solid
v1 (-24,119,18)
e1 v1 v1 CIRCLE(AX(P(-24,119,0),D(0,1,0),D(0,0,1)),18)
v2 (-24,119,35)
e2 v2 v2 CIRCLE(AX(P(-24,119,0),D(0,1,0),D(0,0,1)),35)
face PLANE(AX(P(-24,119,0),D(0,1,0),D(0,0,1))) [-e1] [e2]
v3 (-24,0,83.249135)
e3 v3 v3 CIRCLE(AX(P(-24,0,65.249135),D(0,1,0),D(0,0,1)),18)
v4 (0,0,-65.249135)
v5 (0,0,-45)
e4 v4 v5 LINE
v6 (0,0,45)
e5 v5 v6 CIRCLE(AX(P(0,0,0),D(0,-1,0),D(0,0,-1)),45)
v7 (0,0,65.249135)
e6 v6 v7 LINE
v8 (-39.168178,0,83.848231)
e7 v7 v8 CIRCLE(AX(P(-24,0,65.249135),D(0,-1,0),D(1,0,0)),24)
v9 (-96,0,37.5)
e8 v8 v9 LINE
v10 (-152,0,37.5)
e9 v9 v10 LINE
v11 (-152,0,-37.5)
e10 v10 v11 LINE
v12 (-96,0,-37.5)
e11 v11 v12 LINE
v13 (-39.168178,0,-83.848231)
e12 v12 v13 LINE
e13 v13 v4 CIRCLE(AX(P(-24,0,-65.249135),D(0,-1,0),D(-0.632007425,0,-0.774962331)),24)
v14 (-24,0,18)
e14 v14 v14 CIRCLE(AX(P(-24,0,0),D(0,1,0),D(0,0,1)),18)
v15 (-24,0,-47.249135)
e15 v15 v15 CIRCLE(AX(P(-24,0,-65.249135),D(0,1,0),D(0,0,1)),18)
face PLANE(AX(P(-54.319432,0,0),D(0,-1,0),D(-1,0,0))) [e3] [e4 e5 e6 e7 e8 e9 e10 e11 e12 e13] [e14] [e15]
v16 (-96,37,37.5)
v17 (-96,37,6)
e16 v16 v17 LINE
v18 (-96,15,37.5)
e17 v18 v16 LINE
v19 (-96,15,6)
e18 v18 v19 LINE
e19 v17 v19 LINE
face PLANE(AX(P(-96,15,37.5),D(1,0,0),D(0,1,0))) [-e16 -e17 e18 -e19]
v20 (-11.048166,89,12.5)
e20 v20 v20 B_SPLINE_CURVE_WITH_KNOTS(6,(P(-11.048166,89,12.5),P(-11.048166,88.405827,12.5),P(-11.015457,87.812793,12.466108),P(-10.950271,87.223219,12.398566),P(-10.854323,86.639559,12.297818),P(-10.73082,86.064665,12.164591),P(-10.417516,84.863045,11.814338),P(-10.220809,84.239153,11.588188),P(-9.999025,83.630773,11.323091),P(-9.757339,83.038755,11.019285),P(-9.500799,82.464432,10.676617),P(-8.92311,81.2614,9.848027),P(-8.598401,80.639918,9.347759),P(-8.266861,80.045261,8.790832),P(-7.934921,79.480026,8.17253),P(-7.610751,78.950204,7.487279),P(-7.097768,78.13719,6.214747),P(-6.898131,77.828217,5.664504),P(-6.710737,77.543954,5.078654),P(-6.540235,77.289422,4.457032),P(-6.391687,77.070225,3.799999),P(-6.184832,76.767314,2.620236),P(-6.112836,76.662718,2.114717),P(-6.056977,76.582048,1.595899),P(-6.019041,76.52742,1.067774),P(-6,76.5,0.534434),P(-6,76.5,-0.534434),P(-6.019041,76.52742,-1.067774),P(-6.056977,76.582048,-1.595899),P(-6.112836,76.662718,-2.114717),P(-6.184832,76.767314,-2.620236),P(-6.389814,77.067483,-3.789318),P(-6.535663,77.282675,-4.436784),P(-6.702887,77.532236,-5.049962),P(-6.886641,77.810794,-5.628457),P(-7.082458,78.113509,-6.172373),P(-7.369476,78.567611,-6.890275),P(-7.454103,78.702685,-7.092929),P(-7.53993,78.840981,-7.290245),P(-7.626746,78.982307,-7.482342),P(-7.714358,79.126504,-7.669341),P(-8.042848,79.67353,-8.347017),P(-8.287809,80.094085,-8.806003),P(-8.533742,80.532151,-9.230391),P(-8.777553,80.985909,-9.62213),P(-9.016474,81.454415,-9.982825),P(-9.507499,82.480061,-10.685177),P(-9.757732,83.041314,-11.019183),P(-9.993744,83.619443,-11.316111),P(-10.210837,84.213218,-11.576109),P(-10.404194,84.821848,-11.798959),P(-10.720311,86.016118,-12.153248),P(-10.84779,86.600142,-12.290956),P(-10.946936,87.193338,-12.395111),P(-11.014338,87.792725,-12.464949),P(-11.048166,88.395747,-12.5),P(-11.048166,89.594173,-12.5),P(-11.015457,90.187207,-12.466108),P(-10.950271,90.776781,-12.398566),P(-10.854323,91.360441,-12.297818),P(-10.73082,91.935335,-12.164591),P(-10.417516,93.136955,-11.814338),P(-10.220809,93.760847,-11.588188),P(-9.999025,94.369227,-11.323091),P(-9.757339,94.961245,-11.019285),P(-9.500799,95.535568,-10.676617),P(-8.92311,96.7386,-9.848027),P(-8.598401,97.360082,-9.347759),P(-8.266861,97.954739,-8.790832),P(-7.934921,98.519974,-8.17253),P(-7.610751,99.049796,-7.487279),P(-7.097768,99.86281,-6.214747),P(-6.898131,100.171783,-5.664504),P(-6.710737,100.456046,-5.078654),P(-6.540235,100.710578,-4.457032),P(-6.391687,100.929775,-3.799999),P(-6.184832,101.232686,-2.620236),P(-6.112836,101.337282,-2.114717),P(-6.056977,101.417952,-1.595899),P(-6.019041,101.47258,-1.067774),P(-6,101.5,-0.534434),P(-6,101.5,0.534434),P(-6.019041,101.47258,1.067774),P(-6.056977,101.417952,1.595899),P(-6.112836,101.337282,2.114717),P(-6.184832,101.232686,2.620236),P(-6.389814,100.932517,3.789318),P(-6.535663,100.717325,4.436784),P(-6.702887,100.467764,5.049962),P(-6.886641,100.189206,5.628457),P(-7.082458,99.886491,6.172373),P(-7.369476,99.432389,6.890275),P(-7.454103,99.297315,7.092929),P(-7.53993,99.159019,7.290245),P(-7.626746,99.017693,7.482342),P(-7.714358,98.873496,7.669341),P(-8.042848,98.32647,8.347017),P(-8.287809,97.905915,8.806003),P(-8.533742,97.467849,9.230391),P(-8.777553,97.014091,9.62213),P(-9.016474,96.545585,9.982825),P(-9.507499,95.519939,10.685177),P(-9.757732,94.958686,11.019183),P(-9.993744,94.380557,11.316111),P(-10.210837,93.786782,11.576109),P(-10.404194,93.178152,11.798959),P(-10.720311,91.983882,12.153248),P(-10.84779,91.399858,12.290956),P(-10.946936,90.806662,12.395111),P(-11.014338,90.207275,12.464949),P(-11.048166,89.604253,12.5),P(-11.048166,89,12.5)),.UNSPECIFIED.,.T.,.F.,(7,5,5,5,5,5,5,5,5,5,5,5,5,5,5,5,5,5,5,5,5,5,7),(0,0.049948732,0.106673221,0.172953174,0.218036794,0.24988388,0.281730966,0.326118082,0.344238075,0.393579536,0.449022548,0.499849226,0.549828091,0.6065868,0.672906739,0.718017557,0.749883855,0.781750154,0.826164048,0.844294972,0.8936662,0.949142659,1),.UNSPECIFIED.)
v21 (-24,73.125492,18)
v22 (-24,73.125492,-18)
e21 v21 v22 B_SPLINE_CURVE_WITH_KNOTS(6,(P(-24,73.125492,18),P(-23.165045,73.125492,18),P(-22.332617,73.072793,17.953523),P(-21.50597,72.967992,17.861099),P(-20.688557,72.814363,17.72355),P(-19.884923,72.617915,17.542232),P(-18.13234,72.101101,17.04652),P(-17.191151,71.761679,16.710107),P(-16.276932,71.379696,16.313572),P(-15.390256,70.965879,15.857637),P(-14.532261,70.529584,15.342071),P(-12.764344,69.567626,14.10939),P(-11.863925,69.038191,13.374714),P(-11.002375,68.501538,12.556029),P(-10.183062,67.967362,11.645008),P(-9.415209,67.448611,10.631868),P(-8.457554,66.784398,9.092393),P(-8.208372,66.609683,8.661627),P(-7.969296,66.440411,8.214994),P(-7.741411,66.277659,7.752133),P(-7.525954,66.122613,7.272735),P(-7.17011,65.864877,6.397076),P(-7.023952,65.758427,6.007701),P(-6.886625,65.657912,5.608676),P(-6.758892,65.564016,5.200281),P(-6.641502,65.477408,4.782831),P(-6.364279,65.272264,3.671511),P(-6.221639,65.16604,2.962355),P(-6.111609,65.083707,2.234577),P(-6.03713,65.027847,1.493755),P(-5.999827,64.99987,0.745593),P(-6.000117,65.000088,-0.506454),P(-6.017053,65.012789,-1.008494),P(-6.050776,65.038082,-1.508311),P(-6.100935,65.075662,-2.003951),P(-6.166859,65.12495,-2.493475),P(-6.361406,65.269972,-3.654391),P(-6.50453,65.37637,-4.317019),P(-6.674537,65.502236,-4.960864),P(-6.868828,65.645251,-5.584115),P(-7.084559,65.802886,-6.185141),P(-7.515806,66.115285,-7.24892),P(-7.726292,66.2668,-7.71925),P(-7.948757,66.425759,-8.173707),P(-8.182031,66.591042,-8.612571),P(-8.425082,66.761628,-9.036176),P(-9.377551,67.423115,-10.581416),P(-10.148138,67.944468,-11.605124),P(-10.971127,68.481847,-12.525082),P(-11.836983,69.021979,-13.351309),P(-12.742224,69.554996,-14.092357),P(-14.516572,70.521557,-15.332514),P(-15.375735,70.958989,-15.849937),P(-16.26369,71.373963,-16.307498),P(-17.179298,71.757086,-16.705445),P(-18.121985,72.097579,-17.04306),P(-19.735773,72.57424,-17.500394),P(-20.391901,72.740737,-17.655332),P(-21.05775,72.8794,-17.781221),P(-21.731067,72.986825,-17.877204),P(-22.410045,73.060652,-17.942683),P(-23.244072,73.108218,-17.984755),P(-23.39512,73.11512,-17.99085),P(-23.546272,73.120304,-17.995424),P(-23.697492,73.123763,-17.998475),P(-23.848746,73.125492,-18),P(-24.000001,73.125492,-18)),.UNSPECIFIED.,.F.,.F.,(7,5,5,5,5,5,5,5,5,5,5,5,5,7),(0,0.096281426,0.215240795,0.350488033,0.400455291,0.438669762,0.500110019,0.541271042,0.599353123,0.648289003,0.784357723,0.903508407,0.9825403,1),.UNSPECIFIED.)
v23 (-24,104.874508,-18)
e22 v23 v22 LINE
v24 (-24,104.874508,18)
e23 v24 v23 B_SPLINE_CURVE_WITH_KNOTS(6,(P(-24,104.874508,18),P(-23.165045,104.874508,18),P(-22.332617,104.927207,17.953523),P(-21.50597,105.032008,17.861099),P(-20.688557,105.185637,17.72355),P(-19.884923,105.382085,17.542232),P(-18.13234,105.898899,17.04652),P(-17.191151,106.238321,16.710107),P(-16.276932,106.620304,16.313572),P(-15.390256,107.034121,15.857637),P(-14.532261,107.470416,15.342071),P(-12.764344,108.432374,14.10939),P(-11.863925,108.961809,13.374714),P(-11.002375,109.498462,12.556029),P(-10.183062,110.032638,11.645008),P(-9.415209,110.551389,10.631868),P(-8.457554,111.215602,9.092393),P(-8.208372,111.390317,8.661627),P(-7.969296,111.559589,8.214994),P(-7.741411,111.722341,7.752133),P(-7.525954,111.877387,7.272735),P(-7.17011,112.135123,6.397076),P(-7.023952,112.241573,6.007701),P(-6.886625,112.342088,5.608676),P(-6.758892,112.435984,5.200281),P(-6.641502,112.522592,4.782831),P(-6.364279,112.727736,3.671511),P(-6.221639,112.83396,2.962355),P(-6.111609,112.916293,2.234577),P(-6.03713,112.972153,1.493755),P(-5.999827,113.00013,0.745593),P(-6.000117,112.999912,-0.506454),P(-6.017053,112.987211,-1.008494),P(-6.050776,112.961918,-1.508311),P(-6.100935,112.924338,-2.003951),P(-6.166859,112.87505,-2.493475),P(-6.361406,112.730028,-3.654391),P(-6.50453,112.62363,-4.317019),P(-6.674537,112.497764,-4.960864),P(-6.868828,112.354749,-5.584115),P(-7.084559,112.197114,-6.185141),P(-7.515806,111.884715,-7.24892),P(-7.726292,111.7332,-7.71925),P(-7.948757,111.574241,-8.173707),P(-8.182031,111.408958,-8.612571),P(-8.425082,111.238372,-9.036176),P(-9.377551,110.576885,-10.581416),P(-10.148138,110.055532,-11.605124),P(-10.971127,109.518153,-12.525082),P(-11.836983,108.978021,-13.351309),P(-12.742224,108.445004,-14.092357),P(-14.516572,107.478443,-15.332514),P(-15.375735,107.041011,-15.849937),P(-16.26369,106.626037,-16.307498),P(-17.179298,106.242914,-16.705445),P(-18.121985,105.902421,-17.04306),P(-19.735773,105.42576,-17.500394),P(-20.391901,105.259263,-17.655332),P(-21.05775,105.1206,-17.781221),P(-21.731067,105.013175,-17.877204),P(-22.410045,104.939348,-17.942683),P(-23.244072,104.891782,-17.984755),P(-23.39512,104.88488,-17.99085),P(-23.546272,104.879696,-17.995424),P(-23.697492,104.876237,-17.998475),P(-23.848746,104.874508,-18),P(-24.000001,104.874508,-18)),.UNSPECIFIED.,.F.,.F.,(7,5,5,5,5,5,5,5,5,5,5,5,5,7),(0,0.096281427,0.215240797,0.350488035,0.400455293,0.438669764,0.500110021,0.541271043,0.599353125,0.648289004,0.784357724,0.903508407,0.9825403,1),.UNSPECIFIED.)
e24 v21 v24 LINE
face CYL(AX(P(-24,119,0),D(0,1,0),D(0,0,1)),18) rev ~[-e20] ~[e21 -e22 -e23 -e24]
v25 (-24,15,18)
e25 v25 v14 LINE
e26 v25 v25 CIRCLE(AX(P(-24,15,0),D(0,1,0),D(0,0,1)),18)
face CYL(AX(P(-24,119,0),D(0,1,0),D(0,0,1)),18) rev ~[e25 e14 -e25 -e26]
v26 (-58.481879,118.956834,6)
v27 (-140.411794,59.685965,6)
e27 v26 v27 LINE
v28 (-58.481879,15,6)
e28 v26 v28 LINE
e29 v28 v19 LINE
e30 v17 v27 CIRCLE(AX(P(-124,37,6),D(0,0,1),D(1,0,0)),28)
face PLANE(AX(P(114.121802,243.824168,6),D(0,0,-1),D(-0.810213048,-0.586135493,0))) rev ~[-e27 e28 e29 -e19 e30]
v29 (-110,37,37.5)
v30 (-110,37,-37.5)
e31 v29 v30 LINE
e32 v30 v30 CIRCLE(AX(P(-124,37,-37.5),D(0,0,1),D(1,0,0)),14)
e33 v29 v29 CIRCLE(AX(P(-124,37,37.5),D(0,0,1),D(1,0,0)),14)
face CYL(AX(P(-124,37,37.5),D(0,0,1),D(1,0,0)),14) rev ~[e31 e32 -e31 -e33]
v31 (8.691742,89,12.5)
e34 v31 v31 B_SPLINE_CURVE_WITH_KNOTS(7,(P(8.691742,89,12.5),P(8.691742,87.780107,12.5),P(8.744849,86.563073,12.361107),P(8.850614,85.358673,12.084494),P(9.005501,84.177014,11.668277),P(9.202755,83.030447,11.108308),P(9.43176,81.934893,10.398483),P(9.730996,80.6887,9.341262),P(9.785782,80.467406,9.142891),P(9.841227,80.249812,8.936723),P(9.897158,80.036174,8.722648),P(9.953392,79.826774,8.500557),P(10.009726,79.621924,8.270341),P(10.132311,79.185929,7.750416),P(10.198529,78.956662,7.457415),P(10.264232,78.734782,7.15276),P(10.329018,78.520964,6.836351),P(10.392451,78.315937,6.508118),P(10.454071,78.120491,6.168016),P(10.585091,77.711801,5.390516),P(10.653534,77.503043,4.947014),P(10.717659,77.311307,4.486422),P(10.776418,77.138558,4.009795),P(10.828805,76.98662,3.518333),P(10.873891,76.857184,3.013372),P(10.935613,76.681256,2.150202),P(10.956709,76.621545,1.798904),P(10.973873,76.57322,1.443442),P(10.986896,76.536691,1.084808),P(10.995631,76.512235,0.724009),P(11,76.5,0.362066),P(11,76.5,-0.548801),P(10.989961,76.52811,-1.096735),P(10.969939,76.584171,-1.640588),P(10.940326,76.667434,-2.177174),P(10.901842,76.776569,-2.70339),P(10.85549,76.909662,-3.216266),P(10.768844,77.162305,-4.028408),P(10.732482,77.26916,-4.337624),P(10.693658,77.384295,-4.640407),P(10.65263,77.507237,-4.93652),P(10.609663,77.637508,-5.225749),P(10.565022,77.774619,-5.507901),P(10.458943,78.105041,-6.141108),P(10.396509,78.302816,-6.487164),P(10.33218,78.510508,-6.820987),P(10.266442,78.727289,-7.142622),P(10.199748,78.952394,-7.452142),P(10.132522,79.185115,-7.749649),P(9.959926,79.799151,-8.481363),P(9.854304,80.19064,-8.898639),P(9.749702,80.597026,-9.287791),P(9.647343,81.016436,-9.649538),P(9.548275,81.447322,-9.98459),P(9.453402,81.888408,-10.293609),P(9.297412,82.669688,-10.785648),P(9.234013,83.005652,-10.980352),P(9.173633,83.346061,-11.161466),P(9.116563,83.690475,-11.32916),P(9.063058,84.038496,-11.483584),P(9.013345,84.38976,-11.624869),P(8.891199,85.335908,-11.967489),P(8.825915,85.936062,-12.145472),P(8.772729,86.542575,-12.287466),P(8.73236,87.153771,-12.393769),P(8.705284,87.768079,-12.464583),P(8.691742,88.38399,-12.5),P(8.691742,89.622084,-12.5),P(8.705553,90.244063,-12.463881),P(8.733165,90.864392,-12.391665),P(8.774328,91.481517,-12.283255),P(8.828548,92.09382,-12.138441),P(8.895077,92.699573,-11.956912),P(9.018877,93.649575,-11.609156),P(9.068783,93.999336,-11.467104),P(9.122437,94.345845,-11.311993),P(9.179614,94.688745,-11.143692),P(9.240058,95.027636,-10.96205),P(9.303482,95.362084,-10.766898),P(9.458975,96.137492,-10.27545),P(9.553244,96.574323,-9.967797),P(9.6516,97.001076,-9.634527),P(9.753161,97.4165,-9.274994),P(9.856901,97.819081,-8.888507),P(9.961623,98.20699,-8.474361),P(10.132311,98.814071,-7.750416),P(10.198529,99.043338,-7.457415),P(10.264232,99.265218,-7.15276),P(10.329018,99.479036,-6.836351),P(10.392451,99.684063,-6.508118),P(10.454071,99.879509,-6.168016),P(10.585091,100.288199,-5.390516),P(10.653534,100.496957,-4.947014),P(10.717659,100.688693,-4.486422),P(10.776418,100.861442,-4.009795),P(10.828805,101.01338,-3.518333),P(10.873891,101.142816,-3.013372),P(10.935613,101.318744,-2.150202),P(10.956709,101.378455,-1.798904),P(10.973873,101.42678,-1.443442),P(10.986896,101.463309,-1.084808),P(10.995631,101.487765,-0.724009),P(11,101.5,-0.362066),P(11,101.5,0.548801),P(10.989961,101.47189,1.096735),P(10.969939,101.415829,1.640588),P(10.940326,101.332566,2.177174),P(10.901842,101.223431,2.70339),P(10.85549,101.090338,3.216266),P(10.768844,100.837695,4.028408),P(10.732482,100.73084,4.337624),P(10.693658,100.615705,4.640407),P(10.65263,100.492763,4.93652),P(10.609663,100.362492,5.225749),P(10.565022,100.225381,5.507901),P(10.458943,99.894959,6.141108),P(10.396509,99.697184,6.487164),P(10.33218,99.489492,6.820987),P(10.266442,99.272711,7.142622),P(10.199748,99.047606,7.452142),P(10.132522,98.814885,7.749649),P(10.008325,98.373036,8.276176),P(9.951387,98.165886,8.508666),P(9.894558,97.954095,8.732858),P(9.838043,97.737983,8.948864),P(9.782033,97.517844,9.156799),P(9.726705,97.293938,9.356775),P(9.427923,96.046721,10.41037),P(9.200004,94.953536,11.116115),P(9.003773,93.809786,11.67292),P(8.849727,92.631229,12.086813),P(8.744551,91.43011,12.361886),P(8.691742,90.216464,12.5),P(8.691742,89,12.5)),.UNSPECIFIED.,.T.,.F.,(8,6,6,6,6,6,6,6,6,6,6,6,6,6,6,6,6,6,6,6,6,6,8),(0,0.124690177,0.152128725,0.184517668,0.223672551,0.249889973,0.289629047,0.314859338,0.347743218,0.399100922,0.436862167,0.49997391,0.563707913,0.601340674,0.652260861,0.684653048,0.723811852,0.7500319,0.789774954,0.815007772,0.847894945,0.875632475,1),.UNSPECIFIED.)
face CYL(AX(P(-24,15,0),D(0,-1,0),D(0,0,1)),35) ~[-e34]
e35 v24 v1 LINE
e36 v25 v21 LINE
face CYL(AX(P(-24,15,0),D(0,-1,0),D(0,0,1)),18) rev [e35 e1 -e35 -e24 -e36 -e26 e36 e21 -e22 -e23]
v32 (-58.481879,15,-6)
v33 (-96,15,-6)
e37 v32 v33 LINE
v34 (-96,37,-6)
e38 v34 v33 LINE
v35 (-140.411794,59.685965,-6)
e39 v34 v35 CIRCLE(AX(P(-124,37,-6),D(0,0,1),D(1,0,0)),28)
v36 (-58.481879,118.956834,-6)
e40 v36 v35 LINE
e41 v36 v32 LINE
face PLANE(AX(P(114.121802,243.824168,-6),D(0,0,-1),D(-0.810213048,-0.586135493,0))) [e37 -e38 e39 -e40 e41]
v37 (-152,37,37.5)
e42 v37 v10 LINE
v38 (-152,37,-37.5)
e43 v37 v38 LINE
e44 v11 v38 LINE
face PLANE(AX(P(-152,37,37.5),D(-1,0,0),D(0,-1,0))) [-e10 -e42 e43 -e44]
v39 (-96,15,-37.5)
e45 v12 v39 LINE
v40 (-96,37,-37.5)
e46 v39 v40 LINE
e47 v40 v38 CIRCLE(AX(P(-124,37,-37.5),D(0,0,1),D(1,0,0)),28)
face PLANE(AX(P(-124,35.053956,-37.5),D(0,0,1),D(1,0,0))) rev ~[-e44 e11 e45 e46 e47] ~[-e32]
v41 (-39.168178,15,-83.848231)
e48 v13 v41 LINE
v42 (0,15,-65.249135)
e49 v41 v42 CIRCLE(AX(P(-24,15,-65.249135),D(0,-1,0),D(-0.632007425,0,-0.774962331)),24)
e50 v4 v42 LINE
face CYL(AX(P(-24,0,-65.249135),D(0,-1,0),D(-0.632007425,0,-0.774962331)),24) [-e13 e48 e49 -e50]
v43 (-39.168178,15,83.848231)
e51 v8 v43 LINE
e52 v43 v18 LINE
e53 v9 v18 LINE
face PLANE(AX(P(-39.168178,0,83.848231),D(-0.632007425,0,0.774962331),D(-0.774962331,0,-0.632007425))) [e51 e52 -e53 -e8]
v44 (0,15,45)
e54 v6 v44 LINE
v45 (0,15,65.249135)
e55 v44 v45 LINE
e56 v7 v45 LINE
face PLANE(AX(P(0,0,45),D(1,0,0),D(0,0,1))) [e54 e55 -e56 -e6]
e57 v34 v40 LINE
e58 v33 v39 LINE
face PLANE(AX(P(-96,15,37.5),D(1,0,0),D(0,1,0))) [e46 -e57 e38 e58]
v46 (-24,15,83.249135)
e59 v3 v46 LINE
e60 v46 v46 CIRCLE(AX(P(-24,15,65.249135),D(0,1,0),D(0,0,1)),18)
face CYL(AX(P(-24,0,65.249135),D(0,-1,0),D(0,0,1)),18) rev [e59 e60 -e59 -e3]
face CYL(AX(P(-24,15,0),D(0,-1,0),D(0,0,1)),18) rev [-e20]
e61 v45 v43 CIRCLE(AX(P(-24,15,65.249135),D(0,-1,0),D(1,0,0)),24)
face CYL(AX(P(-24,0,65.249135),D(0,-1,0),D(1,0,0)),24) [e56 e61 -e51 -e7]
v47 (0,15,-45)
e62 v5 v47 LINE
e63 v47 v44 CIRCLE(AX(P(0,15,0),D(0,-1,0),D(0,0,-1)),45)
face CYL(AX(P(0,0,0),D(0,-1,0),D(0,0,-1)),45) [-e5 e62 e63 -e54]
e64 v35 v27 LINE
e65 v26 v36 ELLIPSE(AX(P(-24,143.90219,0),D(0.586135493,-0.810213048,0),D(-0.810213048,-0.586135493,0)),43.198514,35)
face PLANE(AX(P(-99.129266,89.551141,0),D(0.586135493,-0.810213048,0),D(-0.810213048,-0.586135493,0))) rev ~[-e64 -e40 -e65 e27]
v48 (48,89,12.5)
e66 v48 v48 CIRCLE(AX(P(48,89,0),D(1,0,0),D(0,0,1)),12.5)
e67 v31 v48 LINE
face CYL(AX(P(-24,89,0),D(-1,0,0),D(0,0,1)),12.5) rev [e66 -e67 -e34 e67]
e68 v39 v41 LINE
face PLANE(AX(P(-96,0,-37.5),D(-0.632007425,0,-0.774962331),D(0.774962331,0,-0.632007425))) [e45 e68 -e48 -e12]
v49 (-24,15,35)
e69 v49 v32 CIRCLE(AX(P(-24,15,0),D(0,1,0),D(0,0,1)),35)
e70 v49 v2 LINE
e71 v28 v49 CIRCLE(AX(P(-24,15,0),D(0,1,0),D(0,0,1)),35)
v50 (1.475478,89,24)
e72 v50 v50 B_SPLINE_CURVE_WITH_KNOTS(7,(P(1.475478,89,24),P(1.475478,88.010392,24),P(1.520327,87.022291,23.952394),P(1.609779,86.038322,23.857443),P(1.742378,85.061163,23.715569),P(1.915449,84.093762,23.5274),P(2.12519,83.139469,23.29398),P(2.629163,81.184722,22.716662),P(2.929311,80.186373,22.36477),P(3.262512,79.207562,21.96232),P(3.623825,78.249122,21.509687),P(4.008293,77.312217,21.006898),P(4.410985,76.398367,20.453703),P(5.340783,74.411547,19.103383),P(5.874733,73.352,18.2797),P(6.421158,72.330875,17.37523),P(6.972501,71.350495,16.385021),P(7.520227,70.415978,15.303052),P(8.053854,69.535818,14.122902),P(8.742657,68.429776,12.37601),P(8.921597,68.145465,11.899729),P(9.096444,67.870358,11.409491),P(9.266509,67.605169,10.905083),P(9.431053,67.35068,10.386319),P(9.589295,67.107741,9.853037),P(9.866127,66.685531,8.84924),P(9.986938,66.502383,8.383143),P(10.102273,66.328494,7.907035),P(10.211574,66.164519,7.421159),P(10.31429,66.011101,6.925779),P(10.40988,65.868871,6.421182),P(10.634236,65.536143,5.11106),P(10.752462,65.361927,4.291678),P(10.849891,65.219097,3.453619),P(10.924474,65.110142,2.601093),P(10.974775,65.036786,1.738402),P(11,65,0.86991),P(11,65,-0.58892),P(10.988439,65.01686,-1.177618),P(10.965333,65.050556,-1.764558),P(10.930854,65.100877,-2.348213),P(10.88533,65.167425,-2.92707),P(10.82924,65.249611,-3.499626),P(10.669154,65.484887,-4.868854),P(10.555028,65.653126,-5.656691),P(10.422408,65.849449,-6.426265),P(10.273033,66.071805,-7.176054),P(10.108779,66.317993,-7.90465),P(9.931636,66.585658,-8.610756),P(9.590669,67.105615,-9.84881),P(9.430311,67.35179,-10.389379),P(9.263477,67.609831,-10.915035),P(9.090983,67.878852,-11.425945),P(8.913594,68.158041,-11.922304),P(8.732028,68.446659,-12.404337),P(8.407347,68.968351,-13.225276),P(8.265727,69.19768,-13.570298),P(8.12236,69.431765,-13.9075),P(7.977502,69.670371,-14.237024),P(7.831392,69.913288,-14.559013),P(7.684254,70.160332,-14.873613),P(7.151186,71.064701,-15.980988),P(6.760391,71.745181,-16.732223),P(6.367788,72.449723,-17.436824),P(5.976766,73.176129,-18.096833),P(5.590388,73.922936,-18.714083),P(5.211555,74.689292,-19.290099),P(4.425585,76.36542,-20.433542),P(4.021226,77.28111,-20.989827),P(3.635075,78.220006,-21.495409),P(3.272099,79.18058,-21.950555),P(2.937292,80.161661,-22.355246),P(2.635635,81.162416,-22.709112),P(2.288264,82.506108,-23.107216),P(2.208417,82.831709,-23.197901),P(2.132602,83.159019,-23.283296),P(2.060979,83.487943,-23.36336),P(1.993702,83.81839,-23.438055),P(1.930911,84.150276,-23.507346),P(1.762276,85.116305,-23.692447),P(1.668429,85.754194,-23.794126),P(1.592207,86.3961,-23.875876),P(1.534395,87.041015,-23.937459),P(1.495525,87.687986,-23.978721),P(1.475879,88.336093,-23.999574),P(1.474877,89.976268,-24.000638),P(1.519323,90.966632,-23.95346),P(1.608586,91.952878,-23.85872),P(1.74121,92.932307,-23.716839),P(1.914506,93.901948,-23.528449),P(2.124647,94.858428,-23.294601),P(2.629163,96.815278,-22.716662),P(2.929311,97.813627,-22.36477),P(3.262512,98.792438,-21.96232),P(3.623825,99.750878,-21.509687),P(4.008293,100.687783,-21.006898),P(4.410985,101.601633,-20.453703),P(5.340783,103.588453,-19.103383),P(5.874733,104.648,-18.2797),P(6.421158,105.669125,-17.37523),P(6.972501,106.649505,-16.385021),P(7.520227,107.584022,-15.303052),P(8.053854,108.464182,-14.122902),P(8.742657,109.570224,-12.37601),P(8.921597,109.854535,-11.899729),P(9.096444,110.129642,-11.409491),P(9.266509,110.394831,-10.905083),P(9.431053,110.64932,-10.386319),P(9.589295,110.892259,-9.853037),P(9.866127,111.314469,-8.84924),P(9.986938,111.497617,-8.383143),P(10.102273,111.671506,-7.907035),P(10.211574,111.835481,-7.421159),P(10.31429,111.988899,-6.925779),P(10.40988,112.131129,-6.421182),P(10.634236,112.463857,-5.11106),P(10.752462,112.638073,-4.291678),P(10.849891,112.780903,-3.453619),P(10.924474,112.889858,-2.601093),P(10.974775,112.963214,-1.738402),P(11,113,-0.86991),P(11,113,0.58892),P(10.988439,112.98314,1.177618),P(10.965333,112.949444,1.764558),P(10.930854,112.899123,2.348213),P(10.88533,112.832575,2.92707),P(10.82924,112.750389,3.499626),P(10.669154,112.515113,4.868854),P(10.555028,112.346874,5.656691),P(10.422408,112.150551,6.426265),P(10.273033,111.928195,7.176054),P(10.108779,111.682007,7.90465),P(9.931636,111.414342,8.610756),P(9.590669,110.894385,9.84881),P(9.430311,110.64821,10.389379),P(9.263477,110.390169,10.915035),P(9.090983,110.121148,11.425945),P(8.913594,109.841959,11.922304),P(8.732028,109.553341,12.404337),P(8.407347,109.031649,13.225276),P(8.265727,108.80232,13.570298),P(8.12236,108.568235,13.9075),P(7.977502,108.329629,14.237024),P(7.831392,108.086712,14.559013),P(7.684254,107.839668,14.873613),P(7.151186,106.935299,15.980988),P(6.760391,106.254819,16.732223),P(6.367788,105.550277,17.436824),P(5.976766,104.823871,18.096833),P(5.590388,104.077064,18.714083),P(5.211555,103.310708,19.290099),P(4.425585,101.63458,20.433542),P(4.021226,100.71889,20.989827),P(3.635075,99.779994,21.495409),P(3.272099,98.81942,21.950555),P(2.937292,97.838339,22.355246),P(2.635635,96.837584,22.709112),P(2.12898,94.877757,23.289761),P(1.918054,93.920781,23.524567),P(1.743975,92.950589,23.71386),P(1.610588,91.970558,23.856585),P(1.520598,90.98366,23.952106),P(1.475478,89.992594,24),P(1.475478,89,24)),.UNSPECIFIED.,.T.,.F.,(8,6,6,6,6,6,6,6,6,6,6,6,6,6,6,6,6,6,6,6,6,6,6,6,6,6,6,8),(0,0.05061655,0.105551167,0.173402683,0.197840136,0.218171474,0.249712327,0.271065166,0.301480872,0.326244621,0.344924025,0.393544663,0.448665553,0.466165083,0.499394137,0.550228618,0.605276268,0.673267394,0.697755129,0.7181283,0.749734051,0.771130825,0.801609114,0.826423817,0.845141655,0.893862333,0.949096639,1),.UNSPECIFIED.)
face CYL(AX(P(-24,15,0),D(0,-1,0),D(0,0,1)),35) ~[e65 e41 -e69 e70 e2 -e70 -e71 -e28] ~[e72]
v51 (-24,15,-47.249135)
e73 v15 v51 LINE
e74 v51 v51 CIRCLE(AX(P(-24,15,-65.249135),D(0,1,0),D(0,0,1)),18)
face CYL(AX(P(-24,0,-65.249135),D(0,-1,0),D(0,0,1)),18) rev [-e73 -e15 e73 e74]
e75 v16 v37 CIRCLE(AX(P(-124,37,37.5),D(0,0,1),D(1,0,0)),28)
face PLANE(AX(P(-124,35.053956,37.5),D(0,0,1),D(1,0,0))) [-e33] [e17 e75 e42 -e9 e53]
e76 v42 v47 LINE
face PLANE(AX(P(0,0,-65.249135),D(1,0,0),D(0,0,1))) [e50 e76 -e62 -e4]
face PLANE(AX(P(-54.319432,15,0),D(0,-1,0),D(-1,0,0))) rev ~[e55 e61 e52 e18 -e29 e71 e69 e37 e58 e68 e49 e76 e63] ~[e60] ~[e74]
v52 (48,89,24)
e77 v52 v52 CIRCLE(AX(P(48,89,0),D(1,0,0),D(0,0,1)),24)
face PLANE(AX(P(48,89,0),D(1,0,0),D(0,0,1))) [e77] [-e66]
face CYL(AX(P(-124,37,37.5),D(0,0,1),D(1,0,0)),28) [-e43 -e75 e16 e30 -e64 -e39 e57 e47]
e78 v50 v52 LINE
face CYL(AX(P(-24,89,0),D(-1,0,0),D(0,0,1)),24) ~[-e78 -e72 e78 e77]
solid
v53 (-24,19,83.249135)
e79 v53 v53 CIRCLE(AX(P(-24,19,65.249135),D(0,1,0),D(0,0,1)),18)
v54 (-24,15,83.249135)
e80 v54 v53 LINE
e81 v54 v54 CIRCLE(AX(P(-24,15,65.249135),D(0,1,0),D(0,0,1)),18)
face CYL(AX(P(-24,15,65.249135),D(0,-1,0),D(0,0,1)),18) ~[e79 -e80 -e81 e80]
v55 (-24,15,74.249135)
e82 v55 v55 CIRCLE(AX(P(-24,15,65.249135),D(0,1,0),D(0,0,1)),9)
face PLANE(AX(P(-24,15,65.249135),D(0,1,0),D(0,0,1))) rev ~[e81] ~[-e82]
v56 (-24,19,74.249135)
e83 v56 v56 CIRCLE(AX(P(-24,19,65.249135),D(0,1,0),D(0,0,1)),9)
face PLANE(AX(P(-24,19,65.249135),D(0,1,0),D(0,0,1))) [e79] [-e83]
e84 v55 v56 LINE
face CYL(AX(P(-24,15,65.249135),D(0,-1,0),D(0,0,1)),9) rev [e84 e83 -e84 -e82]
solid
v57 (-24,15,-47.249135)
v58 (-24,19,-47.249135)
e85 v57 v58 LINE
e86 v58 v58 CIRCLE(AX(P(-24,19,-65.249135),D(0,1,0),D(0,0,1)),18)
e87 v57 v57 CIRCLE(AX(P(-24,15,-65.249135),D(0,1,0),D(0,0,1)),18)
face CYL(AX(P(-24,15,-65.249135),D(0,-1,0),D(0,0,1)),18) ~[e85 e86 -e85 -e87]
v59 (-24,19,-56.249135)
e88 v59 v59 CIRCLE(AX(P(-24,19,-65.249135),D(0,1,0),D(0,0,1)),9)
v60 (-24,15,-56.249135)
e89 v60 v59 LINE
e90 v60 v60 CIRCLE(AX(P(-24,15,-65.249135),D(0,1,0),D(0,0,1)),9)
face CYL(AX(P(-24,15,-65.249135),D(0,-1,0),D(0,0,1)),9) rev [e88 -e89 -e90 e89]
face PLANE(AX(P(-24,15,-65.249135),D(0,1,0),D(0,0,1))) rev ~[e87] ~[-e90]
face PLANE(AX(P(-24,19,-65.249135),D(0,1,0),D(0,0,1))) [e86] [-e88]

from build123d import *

# Parameters (mm, degrees)
SKETCH1_R             = 18
BOSS_EXTRUDE1_DEPTH   = 15
SKETCH2_R             = 18
SKETCH2_R_2           = 9
BOSS_EXTRUDE2_DEPTH   = 4
BOSS_EXTRUDE2_2_DEPTH = 4
SKETCH3_R             = 35
SKETCH3_R_2           = 18
BOSS_EXTRUDE3_DEPTH   = 104
SKETCH4_R             = 14
BOSS_EXTRUDE4_DEPTH   = 75
SKETCH6_R             = 24
SKETCH6_R_2           = 12.5
BOSS_EXTRUDE5_DEPTH   = 72
SKETCH9_R             = 18
CUT_EXTRUDE2_DEPTH    = 213.674418186
RIB1_REACH            = 214.674
SKETCH17_WALL_W       = 526.407388692
SKETCH17_WALL_H       = 12


with BuildPart() as part:
    # Sketch1 → Boss-Extrude1 (new body)
    with BuildSketch(Plane(origin=(0, 0, 0), x_dir=(1, 0, 0), z_dir=(0, 1, 0))):
        with BuildLine():
            Line((0, -45), (0, -65.249135293))
            ThreePointArc((0, -65.249135293), (-13.705250772, -86.929037007), (-39.168178194, -83.848231247))
            Line((-39.168178194, -83.848231247), (-96, -37.5))
            Line((-96, -37.5), (-152, -37.5))
            Line((-152, -37.5), (-152, 37.5))
            Line((-152, 37.5), (-96, 37.5))
            Line((-96, 37.5), (-39.168178194, 83.848231247))
            ThreePointArc((-39.168178194, 83.848231247), (-13.705250772, 86.929037007), (0, 65.249135293))
            Line((0, 65.249135293), (0, 45))
            ThreePointArc((0, 45), (45, 0), (0, -45))
        make_face()
        with Locations(Location((-24, 65.249135293, 0), (0, 0, 270))):
            Circle(SKETCH1_R, mode=Mode.SUBTRACT)
        with Locations(Location((-24, -65.249135293, 0), (0, 0, 270))):
            Circle(SKETCH1_R, mode=Mode.SUBTRACT)
    extrude(amount=BOSS_EXTRUDE1_DEPTH)

    # Sketch3 → Boss-Extrude3 (add)
    with BuildSketch(Plane(origin=(0, 15, 0), x_dir=(1, 0, 0), z_dir=(0, 1, 0))):
        with Locations(Location((-24, 0, 0), (0, 0, 270))):
            Circle(SKETCH3_R)
        with Locations(Location((-24, 0, 0), (0, 0, 270))):
            Circle(SKETCH3_R_2, mode=Mode.SUBTRACT)
    extrude(amount=BOSS_EXTRUDE3_DEPTH)

    # Sketch4 → Boss-Extrude4 (add)
    with BuildSketch(Plane.XY.offset(37.5)):
        with BuildLine():
            Line((-96, 15), (-96, 37))
            ThreePointArc((-96, 37), (-124, 65), (-152, 37))
            Line((-152, 37), (-152, 15))
            Line((-152, 15), (-96, 15))
        make_face()
        with Locations((-124, 37)):
            Circle(SKETCH4_R, mode=Mode.SUBTRACT)
    extrude(amount=-BOSS_EXTRUDE4_DEPTH)

    # Sketch6 → Boss-Extrude5 (add)
    with BuildSketch(Plane(origin=(-24, 0, 0), x_dir=(0, 0, -1), z_dir=(1, 0, 0))):
        with Locations(Location((0, 89, 0), (0, 0, 180))):
            Circle(SKETCH6_R)
        with Locations(Location((0, 89, 0), (0, 0, 180))):
            Circle(SKETCH6_R_2, mode=Mode.SUBTRACT)
    extrude(amount=BOSS_EXTRUDE5_DEPTH)

    # Sketch9 → Cut-Extrude2 (cut, through all)
    with BuildSketch(Plane(origin=(0, 119, 0), x_dir=(1, 0, 0), z_dir=(0, 1, 0))):
        with Locations(Location((-24, 0, 0), (0, 0, 270))):
            Circle(SKETCH9_R)
    extrude(amount=-CUT_EXTRUDE2_DEPTH, mode=Mode.SUBTRACT)

    # Sketch17 wall → Rib1 (add, up to next)
    with BuildSketch(Plane(origin=(-99.129265772, 89.551140917, 0), x_dir=(-0.810213048284, -0.586135493202, 0), z_dir=(0.586135493202, -0.810213048284, 0)), mode=Mode.PRIVATE) as rib1_sk1:
        Rectangle(SKETCH17_WALL_W, SKETCH17_WALL_H)
    rib1_tool1 = extrude(rib1_sk1.sketch, amount=RIB1_REACH, mode=Mode.PRIVATE) - part.part
    add(rib1_tool1.solids().sort_by_distance((-99.129265772, 89.551140917, 0))[0])


with BuildPart() as body_2:
    # Sketch2 → Boss-Extrude2 (new body)
    with BuildSketch(Plane(origin=(0, 15, 0), x_dir=(1, 0, 0), z_dir=(0, 1, 0))):
        with Locations(Location((-24, 65.249135293, 0), (0, 0, 270))):
            Circle(SKETCH2_R)
        with Locations(Location((-24, 65.249135293, 0), (0, 0, 270))):
            Circle(SKETCH2_R_2, mode=Mode.SUBTRACT)
    extrude(amount=BOSS_EXTRUDE2_DEPTH)


with BuildPart() as body_3:
    # Sketch2 → Boss-Extrude2 2 (new body)
    with BuildSketch(Plane(origin=(0, 15, 0), x_dir=(1, 0, 0), z_dir=(0, 1, 0))):
        with Locations(Location((-24, -65.249135293, 0), (0, 0, 270))):
            Circle(SKETCH2_R)
        with Locations(Location((-24, -65.249135293, 0), (0, 0, 270))):
            Circle(SKETCH2_R_2, mode=Mode.SUBTRACT)
    extrude(amount=BOSS_EXTRUDE2_2_DEPTH)


solid = Compound([part.part, body_2.part, body_3.part])
